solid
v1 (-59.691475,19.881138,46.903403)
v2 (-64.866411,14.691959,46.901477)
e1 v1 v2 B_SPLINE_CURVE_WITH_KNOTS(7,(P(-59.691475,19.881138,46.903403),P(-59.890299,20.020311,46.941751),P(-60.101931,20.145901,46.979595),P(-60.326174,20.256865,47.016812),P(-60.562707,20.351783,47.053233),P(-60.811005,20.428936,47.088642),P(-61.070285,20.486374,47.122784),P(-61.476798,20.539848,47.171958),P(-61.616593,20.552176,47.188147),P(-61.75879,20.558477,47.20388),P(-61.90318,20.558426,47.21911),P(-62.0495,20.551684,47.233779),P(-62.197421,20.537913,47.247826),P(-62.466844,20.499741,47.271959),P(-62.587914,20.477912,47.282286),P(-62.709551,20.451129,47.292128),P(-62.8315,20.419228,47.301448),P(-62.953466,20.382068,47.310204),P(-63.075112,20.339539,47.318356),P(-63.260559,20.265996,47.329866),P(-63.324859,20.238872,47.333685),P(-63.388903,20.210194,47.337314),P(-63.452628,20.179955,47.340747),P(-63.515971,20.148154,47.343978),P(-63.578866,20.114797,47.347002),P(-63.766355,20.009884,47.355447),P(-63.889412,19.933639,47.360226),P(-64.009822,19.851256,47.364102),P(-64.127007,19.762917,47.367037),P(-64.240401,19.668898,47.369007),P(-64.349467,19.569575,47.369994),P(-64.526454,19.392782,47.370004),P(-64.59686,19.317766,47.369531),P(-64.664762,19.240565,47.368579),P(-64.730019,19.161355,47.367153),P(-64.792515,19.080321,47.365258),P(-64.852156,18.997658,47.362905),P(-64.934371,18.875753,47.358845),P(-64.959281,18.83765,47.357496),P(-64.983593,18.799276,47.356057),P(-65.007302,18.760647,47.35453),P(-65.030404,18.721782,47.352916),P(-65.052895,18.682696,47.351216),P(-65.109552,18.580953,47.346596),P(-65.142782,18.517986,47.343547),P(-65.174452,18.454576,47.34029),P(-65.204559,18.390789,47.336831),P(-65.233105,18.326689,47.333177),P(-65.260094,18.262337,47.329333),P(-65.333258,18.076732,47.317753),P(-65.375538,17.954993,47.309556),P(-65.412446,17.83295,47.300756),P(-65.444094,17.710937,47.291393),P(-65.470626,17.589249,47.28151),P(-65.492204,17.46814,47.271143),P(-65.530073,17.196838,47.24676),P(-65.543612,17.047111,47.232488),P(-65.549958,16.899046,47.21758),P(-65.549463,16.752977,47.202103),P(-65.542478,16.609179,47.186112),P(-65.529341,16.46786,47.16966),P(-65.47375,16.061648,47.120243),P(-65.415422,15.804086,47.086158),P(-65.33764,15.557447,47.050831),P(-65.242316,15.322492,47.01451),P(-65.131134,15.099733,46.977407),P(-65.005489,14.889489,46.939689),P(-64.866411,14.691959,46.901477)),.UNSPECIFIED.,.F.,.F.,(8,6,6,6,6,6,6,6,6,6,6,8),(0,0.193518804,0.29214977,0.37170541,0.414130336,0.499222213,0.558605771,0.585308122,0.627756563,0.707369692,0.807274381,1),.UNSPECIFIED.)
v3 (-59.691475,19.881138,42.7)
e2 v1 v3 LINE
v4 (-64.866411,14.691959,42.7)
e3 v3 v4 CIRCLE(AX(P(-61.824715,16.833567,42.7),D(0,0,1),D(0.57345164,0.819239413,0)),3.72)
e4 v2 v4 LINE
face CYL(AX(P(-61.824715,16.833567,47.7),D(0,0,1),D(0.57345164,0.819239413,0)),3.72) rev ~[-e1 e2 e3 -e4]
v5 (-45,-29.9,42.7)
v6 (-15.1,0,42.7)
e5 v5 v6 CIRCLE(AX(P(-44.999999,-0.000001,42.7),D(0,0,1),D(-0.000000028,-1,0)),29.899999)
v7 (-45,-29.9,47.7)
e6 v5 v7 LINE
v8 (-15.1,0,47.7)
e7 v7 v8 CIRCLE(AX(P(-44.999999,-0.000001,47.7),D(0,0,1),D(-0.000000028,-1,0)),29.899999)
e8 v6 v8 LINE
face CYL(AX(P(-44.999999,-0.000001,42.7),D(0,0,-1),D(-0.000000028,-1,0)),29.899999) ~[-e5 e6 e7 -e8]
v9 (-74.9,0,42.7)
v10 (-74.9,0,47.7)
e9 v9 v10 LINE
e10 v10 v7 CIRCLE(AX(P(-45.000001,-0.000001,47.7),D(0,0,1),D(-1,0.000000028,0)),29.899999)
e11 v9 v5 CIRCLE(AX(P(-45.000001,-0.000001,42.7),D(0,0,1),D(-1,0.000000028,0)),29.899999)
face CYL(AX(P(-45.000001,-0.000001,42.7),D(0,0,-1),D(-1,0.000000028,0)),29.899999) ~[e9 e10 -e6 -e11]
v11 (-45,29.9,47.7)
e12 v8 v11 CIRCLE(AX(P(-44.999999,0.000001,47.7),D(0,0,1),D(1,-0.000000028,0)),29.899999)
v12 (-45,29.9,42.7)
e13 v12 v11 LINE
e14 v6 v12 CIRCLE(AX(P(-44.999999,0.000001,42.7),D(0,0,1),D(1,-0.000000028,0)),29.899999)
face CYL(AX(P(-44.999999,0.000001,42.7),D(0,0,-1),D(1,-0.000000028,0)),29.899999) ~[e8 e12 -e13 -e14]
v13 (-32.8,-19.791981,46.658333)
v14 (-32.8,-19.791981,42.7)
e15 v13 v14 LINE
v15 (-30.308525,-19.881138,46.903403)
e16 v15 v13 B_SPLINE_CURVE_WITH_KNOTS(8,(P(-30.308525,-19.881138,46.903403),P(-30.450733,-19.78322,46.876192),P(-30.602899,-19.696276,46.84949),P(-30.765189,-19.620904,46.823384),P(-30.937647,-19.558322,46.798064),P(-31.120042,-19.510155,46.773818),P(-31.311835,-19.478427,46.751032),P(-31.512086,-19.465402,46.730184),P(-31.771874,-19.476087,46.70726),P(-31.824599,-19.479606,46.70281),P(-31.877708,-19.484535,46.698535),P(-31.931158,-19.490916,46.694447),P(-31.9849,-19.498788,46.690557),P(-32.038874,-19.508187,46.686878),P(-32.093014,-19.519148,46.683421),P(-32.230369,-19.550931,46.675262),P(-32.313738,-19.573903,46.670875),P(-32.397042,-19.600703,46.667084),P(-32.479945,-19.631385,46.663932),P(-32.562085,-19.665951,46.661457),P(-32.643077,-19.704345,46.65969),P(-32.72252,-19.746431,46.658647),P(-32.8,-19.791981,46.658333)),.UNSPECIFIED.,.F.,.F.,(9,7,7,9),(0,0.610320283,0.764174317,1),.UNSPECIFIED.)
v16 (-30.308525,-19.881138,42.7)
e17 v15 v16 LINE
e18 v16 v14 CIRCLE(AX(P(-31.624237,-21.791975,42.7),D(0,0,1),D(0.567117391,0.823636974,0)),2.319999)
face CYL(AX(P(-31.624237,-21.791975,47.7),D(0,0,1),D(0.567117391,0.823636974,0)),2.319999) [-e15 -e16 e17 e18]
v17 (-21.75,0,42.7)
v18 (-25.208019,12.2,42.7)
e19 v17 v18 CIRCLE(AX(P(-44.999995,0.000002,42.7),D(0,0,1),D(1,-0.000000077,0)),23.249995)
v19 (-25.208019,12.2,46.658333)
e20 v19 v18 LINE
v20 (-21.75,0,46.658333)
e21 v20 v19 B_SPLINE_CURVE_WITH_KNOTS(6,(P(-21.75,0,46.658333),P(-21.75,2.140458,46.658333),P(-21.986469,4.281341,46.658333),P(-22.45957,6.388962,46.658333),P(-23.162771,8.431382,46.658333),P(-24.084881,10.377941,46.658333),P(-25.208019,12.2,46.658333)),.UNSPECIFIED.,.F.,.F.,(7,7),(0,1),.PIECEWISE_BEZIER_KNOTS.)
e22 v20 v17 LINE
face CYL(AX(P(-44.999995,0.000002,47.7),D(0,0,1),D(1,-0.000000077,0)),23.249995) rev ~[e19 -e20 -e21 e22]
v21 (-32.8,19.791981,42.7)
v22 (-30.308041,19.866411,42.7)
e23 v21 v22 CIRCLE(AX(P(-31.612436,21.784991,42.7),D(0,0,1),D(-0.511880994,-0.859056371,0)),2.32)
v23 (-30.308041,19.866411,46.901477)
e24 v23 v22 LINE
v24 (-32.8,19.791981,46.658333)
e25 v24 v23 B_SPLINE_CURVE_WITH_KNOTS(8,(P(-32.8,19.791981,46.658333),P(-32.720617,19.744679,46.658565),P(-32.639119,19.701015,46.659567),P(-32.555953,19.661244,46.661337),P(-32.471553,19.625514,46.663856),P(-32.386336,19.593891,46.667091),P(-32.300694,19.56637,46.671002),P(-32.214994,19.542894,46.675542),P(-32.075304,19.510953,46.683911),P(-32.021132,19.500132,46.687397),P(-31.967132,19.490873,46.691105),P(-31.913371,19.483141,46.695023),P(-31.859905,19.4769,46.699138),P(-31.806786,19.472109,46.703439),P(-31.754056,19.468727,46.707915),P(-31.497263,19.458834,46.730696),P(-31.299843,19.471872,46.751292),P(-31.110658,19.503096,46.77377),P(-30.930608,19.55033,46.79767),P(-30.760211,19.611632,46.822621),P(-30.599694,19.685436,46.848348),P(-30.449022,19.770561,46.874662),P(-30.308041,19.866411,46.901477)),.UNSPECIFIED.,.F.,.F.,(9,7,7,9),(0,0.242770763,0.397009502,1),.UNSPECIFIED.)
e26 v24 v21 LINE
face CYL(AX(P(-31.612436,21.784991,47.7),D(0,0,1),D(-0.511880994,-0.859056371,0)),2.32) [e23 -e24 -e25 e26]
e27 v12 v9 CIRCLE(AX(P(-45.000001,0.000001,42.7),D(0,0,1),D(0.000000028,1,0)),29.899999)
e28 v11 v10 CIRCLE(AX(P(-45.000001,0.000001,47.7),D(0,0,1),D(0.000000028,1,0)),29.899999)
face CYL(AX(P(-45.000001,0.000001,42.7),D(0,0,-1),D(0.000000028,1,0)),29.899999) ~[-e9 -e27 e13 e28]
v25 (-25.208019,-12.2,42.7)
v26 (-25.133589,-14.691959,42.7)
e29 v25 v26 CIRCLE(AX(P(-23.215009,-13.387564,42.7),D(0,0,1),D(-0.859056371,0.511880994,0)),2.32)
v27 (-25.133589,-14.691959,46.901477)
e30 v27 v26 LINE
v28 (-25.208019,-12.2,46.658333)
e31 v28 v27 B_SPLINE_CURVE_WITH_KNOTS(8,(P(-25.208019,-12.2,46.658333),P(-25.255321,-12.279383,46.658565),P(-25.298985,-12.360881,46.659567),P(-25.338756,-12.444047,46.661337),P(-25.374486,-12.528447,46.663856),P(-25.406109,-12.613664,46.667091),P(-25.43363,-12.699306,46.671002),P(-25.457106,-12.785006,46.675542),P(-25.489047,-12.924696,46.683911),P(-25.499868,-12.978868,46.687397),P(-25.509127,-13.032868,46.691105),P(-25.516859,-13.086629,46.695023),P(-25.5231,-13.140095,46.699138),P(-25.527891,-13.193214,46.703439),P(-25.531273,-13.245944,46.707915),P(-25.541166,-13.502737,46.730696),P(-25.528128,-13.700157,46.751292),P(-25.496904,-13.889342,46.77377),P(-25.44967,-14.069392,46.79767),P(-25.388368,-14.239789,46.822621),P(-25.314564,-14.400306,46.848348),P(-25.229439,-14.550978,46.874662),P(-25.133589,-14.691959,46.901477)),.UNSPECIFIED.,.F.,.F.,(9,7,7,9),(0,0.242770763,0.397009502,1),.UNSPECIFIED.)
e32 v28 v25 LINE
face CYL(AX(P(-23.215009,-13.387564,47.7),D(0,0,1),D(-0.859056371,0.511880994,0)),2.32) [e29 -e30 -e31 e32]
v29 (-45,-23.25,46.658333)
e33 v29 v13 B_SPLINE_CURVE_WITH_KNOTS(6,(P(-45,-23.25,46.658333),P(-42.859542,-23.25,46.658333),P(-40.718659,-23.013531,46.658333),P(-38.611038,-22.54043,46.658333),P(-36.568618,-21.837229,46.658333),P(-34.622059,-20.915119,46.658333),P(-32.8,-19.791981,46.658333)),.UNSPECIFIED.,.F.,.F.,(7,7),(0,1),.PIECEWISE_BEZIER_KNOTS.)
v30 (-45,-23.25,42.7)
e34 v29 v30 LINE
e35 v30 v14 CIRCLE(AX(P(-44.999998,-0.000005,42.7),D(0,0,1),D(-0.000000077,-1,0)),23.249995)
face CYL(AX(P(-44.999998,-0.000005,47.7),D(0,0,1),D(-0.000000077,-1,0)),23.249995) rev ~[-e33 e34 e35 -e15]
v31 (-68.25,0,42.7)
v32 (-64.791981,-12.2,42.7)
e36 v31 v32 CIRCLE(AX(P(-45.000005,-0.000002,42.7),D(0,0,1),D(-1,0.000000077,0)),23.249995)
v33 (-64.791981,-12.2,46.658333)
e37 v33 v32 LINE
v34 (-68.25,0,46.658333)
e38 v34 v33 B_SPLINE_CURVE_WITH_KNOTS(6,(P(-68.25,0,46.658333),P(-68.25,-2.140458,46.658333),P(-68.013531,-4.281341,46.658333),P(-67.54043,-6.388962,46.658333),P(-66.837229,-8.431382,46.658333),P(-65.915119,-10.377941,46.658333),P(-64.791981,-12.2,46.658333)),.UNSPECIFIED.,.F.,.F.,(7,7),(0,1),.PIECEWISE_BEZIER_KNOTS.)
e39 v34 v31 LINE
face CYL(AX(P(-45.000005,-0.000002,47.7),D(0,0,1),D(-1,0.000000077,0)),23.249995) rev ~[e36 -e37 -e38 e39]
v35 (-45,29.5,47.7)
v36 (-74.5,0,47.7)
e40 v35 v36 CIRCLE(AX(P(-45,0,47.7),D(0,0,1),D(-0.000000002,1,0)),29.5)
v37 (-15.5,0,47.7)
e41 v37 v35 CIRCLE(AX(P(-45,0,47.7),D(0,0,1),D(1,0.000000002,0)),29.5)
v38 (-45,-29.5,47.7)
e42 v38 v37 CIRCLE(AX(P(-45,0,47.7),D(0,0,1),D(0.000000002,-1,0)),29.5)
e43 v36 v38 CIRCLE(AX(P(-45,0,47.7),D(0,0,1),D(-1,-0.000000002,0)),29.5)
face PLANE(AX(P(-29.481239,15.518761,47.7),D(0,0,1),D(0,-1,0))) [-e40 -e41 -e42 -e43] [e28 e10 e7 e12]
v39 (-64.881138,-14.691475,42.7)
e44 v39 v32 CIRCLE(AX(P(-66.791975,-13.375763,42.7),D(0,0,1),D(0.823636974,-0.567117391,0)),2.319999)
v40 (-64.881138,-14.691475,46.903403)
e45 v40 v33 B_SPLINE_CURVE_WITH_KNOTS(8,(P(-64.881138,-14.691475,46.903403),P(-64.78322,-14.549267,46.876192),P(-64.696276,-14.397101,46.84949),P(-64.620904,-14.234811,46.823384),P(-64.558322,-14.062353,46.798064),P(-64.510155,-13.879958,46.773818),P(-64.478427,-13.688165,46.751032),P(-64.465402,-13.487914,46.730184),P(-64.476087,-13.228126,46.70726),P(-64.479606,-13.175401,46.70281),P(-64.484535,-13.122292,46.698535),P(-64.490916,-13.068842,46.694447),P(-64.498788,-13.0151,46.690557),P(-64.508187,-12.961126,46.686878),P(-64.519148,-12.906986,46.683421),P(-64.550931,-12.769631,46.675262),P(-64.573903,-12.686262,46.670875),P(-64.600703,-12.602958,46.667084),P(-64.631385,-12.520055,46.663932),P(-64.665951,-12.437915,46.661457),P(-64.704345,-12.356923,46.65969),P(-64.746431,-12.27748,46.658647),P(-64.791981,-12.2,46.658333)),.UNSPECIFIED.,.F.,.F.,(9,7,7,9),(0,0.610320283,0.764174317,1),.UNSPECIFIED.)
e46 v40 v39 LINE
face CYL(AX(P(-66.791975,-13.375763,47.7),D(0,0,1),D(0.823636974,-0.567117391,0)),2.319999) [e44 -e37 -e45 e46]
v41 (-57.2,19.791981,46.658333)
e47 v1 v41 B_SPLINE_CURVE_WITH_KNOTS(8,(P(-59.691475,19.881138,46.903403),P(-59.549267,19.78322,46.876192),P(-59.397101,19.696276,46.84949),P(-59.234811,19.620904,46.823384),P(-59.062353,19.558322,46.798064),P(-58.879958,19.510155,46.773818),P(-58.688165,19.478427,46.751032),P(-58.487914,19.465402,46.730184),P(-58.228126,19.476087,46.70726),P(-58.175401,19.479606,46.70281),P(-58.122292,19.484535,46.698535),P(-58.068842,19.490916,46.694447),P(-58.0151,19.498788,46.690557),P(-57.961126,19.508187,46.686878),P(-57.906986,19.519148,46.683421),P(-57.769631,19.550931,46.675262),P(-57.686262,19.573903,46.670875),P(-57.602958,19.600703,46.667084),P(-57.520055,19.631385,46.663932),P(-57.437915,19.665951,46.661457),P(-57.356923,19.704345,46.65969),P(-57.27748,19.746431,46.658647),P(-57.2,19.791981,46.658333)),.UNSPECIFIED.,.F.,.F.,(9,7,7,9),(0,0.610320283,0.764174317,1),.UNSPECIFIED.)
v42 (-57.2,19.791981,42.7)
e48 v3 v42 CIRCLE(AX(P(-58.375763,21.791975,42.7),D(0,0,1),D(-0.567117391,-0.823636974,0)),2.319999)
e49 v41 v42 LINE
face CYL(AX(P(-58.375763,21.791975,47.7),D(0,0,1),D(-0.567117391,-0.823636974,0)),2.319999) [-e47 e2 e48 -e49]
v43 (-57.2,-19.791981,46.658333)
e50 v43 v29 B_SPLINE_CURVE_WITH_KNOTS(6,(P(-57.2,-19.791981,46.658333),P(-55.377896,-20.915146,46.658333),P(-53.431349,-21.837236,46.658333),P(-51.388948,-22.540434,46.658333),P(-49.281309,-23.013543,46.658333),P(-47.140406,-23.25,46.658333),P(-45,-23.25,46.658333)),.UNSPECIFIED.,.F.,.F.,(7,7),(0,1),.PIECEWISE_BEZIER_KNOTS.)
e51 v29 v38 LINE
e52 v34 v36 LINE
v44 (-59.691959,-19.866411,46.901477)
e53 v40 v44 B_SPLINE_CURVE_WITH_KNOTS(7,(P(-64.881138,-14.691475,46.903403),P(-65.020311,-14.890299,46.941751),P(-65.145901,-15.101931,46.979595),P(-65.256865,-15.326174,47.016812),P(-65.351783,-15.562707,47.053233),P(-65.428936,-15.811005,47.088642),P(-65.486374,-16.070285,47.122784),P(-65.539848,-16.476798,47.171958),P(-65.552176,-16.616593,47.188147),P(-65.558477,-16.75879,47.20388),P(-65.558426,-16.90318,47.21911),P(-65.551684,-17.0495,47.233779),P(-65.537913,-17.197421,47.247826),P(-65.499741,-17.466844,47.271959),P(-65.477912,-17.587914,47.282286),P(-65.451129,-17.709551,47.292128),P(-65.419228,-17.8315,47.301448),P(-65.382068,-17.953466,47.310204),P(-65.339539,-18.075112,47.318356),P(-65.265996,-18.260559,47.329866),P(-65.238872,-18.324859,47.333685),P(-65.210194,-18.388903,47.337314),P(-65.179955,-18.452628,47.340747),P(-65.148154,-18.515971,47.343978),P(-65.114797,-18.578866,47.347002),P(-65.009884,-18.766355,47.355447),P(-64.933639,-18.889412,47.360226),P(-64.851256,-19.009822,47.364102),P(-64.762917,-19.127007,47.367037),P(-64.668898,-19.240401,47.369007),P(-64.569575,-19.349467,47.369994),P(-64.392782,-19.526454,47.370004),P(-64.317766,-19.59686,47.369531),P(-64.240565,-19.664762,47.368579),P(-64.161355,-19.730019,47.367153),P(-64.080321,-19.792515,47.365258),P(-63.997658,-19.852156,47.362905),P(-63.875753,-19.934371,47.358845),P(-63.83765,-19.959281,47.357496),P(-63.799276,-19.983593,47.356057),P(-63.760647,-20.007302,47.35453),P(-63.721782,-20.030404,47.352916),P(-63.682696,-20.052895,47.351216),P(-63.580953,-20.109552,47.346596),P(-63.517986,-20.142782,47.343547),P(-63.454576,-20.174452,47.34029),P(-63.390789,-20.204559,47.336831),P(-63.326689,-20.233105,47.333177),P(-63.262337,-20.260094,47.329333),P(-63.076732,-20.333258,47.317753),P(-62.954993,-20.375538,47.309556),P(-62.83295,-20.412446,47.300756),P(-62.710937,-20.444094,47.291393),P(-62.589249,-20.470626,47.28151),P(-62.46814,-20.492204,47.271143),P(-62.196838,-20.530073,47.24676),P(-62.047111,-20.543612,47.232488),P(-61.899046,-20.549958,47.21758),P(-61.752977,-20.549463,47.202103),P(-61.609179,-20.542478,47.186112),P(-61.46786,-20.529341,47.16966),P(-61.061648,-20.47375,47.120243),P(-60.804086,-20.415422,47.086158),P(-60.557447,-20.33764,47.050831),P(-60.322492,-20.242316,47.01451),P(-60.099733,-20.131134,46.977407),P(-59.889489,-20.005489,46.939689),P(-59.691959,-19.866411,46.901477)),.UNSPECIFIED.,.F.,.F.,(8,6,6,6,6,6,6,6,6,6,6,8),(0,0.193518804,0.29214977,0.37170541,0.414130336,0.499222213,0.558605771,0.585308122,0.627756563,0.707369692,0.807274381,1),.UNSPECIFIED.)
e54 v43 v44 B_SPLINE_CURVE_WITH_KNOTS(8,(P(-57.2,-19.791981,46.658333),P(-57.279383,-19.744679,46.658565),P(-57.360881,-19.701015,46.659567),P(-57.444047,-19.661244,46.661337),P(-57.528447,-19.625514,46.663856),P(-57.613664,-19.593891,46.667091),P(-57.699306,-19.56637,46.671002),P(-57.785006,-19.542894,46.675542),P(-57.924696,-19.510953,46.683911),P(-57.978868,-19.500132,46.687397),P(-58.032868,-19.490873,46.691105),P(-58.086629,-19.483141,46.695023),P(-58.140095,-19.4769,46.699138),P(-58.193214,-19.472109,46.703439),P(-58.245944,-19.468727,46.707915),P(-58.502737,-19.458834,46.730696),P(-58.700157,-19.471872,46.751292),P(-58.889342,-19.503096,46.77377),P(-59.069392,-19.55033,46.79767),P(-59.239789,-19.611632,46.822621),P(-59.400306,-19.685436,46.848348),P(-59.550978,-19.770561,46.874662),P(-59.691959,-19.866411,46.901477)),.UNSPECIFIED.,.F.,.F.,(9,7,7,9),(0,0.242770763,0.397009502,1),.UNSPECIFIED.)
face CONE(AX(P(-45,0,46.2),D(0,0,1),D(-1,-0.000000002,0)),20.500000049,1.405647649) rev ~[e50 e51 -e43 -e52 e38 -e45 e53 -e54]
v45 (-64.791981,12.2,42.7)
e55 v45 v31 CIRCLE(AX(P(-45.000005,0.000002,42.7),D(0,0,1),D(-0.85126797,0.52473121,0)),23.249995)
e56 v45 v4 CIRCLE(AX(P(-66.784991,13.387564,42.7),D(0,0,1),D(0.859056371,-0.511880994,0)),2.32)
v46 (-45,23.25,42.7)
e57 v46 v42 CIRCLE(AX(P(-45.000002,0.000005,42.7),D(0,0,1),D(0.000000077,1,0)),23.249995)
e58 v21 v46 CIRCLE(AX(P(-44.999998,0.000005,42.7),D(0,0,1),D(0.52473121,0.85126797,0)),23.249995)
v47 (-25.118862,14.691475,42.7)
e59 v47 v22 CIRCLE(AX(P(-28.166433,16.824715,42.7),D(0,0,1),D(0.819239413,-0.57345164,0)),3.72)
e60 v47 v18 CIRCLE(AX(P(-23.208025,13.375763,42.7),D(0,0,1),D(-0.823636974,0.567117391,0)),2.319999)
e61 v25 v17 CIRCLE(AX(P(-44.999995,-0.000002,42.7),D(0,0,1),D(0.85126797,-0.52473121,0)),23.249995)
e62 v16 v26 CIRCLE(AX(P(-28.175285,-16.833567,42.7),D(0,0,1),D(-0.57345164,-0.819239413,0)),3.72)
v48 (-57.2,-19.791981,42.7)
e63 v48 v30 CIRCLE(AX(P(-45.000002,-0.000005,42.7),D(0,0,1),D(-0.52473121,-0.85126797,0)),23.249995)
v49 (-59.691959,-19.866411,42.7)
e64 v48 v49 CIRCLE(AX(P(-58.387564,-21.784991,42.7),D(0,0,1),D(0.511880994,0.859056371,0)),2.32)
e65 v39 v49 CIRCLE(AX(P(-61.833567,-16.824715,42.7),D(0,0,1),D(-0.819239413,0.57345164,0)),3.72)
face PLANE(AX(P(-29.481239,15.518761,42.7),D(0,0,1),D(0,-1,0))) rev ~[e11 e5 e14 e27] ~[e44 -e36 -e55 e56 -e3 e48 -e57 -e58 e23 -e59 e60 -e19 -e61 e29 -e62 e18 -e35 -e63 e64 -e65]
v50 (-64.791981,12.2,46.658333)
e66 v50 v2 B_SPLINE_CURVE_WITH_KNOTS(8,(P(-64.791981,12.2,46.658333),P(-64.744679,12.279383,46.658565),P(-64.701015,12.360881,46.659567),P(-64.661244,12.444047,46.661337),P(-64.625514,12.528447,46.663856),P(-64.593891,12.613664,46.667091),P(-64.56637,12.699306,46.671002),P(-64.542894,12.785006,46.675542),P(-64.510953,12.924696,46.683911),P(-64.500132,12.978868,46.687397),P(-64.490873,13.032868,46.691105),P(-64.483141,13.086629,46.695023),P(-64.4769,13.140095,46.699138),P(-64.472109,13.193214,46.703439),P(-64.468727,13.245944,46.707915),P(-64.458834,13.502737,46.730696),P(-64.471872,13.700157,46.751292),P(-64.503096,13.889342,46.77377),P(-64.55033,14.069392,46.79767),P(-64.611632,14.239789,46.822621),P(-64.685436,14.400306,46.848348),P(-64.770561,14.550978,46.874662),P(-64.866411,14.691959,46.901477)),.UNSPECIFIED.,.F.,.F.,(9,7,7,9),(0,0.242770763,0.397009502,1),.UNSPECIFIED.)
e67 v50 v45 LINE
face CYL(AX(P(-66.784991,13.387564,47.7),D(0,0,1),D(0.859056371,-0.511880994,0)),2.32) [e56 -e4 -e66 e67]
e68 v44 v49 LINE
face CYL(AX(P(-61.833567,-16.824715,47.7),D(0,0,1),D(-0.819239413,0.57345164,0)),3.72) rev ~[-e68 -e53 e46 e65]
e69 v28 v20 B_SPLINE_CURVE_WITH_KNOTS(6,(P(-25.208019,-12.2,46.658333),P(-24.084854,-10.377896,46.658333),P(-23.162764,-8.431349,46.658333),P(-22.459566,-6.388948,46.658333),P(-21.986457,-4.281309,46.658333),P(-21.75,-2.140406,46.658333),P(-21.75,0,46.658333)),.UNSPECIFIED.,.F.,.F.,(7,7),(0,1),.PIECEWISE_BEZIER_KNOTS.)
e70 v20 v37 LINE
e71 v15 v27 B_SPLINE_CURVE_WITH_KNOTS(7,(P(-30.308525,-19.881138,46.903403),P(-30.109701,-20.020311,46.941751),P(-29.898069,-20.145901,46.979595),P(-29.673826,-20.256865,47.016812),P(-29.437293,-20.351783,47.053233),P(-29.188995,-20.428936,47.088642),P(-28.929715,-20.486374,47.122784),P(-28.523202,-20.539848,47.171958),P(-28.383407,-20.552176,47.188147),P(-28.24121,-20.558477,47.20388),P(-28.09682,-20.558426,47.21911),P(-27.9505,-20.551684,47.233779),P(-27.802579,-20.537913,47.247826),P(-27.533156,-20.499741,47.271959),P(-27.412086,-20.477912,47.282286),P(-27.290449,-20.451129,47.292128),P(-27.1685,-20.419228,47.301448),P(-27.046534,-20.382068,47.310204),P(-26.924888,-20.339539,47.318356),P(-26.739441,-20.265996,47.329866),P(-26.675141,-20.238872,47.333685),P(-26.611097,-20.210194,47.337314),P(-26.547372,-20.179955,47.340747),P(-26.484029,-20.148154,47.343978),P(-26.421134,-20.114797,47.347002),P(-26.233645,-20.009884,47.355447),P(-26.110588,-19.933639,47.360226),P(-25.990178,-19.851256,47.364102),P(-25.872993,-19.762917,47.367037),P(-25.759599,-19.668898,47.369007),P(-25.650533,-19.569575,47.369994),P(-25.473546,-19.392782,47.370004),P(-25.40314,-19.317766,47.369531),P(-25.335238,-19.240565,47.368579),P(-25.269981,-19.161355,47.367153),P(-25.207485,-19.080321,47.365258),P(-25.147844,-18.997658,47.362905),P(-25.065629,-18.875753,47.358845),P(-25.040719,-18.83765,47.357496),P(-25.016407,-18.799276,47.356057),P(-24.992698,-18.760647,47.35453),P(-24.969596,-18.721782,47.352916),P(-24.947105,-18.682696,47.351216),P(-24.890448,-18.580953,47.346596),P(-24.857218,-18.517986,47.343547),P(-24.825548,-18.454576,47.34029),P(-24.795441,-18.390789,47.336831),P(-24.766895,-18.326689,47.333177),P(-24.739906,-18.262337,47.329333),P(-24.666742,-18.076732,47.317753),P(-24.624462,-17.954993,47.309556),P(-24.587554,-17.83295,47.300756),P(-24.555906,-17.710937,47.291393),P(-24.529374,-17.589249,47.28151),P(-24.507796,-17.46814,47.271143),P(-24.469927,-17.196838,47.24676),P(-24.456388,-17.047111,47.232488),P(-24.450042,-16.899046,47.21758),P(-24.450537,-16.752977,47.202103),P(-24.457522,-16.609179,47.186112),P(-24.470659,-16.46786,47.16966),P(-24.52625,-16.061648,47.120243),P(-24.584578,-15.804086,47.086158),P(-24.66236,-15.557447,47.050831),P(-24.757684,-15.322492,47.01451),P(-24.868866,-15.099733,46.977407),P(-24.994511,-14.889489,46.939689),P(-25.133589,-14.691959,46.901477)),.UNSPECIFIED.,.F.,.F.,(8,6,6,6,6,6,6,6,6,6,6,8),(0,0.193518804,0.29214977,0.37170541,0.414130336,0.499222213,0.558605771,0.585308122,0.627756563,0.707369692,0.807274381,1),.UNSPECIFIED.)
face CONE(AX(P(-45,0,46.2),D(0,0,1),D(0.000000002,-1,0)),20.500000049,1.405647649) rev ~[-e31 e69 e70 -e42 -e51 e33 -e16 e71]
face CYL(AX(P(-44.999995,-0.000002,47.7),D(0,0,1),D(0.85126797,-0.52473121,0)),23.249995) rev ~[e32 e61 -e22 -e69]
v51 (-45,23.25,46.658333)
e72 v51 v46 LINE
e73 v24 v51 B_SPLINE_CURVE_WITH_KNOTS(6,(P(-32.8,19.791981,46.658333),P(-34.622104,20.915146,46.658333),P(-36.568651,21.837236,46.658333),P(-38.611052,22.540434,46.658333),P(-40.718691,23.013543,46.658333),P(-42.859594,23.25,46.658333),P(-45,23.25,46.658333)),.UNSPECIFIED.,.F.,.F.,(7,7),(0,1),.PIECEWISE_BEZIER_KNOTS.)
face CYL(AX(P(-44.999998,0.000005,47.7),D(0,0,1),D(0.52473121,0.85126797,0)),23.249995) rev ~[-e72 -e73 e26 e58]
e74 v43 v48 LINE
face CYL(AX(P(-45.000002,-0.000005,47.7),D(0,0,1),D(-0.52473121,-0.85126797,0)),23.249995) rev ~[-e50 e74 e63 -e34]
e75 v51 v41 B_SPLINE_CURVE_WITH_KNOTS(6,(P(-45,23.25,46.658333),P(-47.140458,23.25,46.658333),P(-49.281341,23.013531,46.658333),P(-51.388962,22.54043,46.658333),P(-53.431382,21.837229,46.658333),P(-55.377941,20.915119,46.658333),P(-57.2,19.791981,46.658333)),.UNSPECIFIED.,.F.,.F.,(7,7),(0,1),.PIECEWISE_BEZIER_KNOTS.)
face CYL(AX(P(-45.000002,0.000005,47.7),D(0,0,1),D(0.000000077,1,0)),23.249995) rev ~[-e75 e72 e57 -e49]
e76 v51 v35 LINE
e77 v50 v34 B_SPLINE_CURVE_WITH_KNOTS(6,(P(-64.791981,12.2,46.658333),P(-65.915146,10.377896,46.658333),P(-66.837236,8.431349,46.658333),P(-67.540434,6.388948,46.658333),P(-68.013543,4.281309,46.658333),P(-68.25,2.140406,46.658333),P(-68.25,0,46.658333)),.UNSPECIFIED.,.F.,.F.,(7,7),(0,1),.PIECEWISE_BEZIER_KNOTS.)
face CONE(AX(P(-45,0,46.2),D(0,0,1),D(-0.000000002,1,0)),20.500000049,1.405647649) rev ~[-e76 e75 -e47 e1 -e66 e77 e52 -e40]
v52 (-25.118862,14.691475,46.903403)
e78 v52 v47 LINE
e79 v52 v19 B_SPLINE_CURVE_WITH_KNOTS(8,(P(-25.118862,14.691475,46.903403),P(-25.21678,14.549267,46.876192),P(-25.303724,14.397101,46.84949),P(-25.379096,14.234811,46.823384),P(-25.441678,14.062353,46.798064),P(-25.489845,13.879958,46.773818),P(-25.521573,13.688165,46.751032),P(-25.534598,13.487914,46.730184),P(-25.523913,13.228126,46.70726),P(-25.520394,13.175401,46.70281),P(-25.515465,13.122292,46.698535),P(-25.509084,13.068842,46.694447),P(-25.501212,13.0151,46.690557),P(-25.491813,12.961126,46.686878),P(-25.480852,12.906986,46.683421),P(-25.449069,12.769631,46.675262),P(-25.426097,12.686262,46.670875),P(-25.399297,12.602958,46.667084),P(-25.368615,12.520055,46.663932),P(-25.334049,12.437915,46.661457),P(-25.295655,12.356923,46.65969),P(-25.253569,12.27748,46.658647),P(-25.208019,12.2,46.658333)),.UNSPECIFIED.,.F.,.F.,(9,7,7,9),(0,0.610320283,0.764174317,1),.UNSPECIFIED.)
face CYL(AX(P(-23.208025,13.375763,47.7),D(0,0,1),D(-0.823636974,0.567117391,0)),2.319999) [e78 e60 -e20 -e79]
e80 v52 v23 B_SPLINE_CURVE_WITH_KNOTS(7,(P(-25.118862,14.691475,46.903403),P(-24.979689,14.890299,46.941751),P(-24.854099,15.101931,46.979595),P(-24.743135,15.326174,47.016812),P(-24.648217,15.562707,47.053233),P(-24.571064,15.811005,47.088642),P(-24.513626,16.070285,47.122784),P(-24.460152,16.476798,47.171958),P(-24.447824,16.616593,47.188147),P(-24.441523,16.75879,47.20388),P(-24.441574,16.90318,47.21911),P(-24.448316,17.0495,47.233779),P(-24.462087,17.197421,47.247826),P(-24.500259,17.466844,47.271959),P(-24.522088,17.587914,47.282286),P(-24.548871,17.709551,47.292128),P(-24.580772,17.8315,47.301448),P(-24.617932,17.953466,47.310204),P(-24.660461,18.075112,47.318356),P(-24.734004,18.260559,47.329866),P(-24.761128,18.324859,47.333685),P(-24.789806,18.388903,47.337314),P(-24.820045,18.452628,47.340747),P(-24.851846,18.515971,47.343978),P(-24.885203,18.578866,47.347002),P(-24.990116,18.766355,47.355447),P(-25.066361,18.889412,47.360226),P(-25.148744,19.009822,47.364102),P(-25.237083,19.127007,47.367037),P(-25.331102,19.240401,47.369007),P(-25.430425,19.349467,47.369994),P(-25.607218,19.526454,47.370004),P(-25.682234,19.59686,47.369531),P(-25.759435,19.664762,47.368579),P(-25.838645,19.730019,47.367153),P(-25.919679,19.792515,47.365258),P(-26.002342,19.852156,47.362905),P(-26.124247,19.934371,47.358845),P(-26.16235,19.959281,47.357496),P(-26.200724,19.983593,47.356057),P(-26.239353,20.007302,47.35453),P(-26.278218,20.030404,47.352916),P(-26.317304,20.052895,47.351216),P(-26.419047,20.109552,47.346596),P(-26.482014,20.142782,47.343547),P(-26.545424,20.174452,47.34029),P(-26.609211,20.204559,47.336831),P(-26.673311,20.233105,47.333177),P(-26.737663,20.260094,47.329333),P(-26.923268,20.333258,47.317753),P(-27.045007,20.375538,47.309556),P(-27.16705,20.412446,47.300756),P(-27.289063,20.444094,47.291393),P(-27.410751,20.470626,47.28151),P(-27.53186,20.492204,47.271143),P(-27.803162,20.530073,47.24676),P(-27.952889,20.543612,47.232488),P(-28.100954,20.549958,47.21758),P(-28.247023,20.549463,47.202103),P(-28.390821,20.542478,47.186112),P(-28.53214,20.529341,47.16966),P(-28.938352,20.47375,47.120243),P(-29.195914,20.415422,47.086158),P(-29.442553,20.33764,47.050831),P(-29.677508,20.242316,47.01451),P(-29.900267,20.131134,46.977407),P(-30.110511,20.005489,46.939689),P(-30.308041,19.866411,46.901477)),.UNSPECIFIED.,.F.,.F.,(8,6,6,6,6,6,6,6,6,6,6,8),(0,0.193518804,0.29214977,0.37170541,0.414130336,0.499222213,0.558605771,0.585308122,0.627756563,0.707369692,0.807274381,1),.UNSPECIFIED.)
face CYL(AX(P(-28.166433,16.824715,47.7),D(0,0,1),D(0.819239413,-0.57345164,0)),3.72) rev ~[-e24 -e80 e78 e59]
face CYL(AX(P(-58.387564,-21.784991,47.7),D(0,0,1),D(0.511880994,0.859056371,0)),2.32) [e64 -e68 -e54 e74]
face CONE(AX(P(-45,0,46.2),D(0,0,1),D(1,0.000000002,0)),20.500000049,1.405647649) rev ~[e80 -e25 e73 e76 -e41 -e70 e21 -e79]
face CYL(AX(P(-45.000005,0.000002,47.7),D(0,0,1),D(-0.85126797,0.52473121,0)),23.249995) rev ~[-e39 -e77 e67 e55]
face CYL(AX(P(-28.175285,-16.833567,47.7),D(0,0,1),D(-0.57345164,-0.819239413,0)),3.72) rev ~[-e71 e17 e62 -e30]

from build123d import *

# Parameters (mm, degrees)
PAD013_DEPTH       = 5
CHAMFER004_SIZE2   = 9
CHAMFER004_SIZE    = 1.5
POCKET005_DEPTH    = 5
SKETCH029_R        = 1.6
POCKET006_DEPTH    = 5
POLARPATTERN_COUNT = 4


with BuildPart() as part:
    # Sketch027 → Pad013 (new body)
    with BuildSketch(Plane.XY):
        with BuildLine():
            ThreePointArc((0, 29.9), (-21.142493, 21.142493), (-29.9, 0))
            Line((-29.9, 0), (-20.5, 0))
            ThreePointArc((0, 20.5), (-14.495689, 14.495689), (-20.5, 0))
            Line((0, 29.9), (0, 20.5))
        make_face()
    extrude(amount=PAD013_DEPTH)

    # Chamfer004
    chamfer004_edges = [part.edges().sort_by_distance(p)[0] for p in [
        (-14.495689, 14.495689, 5),
    ]]
    chamfer004_side = part.faces().sort_by_distance((-14.495689, 14.495689, 2.5))[0]
    chamfer(chamfer004_edges, length=CHAMFER004_SIZE, length2=CHAMFER004_SIZE2, reference=chamfer004_side)

    # Sketch015 (on Face6 of Pad013) → Pocket005 (cut)
    with BuildSketch(Plane.XY.offset(5)):
        with BuildLine():
            ThreePointArc((0, 20.5), (-14.495689, 14.495689), (-20.5, 0))
            Line((-20.5, 0), (-23.25, 0))
            ThreePointArc((-19.791981, 12.2), (-22.368796, 6.340306), (-23.25, 0))
            ThreePointArc((-19.791981, 12.2), (-19.466026, 13.456827), (-19.866411, 14.691959))
            ThreePointArc((-14.691475, 19.881138), (-19.458765, 19.460387), (-19.866411, 14.691959))
            ThreePointArc((-14.691475, 19.881138), (-13.458731, 19.47346), (-12.2, 19.791981))
            ThreePointArc((0, 23.25), (-6.340306, 22.368796), (-12.2, 19.791981))
            Line((0, 20.5), (0, 23.25))
        make_face()
    extrude(amount=-POCKET005_DEPTH, mode=Mode.SUBTRACT)

    # Sketch029 (on Face3 of Pocket005) → Pocket006 (cut)
    with BuildSketch(Plane(origin=(-16.776703, 16.775598, 4.528711), x_dir=(-0.705669, 0.705678, 0.063645), z_dir=(0.045003, -0.045005, 0.997973))):
        with Locations((-16.95, 16.95)):
            Circle(SKETCH029_R)
    extrude(amount=-POCKET006_DEPTH, mode=Mode.SUBTRACT)

    # PolarPattern: part ×4 about axis
    polarpattern_axis = Axis((0, 0, 0), (0, 0, 1))


with BuildPart() as part_1:
    add(part.part)
    for i in range(1, POLARPATTERN_COUNT):
        add(part.part.rotate(polarpattern_axis, i * 360 / POLARPATTERN_COUNT))


with BuildPart() as part_2:
    # Body003 placement: moved
    add(part_1.part.moved(Location((-45, 0, 42.7))))


solid = part_2.part
